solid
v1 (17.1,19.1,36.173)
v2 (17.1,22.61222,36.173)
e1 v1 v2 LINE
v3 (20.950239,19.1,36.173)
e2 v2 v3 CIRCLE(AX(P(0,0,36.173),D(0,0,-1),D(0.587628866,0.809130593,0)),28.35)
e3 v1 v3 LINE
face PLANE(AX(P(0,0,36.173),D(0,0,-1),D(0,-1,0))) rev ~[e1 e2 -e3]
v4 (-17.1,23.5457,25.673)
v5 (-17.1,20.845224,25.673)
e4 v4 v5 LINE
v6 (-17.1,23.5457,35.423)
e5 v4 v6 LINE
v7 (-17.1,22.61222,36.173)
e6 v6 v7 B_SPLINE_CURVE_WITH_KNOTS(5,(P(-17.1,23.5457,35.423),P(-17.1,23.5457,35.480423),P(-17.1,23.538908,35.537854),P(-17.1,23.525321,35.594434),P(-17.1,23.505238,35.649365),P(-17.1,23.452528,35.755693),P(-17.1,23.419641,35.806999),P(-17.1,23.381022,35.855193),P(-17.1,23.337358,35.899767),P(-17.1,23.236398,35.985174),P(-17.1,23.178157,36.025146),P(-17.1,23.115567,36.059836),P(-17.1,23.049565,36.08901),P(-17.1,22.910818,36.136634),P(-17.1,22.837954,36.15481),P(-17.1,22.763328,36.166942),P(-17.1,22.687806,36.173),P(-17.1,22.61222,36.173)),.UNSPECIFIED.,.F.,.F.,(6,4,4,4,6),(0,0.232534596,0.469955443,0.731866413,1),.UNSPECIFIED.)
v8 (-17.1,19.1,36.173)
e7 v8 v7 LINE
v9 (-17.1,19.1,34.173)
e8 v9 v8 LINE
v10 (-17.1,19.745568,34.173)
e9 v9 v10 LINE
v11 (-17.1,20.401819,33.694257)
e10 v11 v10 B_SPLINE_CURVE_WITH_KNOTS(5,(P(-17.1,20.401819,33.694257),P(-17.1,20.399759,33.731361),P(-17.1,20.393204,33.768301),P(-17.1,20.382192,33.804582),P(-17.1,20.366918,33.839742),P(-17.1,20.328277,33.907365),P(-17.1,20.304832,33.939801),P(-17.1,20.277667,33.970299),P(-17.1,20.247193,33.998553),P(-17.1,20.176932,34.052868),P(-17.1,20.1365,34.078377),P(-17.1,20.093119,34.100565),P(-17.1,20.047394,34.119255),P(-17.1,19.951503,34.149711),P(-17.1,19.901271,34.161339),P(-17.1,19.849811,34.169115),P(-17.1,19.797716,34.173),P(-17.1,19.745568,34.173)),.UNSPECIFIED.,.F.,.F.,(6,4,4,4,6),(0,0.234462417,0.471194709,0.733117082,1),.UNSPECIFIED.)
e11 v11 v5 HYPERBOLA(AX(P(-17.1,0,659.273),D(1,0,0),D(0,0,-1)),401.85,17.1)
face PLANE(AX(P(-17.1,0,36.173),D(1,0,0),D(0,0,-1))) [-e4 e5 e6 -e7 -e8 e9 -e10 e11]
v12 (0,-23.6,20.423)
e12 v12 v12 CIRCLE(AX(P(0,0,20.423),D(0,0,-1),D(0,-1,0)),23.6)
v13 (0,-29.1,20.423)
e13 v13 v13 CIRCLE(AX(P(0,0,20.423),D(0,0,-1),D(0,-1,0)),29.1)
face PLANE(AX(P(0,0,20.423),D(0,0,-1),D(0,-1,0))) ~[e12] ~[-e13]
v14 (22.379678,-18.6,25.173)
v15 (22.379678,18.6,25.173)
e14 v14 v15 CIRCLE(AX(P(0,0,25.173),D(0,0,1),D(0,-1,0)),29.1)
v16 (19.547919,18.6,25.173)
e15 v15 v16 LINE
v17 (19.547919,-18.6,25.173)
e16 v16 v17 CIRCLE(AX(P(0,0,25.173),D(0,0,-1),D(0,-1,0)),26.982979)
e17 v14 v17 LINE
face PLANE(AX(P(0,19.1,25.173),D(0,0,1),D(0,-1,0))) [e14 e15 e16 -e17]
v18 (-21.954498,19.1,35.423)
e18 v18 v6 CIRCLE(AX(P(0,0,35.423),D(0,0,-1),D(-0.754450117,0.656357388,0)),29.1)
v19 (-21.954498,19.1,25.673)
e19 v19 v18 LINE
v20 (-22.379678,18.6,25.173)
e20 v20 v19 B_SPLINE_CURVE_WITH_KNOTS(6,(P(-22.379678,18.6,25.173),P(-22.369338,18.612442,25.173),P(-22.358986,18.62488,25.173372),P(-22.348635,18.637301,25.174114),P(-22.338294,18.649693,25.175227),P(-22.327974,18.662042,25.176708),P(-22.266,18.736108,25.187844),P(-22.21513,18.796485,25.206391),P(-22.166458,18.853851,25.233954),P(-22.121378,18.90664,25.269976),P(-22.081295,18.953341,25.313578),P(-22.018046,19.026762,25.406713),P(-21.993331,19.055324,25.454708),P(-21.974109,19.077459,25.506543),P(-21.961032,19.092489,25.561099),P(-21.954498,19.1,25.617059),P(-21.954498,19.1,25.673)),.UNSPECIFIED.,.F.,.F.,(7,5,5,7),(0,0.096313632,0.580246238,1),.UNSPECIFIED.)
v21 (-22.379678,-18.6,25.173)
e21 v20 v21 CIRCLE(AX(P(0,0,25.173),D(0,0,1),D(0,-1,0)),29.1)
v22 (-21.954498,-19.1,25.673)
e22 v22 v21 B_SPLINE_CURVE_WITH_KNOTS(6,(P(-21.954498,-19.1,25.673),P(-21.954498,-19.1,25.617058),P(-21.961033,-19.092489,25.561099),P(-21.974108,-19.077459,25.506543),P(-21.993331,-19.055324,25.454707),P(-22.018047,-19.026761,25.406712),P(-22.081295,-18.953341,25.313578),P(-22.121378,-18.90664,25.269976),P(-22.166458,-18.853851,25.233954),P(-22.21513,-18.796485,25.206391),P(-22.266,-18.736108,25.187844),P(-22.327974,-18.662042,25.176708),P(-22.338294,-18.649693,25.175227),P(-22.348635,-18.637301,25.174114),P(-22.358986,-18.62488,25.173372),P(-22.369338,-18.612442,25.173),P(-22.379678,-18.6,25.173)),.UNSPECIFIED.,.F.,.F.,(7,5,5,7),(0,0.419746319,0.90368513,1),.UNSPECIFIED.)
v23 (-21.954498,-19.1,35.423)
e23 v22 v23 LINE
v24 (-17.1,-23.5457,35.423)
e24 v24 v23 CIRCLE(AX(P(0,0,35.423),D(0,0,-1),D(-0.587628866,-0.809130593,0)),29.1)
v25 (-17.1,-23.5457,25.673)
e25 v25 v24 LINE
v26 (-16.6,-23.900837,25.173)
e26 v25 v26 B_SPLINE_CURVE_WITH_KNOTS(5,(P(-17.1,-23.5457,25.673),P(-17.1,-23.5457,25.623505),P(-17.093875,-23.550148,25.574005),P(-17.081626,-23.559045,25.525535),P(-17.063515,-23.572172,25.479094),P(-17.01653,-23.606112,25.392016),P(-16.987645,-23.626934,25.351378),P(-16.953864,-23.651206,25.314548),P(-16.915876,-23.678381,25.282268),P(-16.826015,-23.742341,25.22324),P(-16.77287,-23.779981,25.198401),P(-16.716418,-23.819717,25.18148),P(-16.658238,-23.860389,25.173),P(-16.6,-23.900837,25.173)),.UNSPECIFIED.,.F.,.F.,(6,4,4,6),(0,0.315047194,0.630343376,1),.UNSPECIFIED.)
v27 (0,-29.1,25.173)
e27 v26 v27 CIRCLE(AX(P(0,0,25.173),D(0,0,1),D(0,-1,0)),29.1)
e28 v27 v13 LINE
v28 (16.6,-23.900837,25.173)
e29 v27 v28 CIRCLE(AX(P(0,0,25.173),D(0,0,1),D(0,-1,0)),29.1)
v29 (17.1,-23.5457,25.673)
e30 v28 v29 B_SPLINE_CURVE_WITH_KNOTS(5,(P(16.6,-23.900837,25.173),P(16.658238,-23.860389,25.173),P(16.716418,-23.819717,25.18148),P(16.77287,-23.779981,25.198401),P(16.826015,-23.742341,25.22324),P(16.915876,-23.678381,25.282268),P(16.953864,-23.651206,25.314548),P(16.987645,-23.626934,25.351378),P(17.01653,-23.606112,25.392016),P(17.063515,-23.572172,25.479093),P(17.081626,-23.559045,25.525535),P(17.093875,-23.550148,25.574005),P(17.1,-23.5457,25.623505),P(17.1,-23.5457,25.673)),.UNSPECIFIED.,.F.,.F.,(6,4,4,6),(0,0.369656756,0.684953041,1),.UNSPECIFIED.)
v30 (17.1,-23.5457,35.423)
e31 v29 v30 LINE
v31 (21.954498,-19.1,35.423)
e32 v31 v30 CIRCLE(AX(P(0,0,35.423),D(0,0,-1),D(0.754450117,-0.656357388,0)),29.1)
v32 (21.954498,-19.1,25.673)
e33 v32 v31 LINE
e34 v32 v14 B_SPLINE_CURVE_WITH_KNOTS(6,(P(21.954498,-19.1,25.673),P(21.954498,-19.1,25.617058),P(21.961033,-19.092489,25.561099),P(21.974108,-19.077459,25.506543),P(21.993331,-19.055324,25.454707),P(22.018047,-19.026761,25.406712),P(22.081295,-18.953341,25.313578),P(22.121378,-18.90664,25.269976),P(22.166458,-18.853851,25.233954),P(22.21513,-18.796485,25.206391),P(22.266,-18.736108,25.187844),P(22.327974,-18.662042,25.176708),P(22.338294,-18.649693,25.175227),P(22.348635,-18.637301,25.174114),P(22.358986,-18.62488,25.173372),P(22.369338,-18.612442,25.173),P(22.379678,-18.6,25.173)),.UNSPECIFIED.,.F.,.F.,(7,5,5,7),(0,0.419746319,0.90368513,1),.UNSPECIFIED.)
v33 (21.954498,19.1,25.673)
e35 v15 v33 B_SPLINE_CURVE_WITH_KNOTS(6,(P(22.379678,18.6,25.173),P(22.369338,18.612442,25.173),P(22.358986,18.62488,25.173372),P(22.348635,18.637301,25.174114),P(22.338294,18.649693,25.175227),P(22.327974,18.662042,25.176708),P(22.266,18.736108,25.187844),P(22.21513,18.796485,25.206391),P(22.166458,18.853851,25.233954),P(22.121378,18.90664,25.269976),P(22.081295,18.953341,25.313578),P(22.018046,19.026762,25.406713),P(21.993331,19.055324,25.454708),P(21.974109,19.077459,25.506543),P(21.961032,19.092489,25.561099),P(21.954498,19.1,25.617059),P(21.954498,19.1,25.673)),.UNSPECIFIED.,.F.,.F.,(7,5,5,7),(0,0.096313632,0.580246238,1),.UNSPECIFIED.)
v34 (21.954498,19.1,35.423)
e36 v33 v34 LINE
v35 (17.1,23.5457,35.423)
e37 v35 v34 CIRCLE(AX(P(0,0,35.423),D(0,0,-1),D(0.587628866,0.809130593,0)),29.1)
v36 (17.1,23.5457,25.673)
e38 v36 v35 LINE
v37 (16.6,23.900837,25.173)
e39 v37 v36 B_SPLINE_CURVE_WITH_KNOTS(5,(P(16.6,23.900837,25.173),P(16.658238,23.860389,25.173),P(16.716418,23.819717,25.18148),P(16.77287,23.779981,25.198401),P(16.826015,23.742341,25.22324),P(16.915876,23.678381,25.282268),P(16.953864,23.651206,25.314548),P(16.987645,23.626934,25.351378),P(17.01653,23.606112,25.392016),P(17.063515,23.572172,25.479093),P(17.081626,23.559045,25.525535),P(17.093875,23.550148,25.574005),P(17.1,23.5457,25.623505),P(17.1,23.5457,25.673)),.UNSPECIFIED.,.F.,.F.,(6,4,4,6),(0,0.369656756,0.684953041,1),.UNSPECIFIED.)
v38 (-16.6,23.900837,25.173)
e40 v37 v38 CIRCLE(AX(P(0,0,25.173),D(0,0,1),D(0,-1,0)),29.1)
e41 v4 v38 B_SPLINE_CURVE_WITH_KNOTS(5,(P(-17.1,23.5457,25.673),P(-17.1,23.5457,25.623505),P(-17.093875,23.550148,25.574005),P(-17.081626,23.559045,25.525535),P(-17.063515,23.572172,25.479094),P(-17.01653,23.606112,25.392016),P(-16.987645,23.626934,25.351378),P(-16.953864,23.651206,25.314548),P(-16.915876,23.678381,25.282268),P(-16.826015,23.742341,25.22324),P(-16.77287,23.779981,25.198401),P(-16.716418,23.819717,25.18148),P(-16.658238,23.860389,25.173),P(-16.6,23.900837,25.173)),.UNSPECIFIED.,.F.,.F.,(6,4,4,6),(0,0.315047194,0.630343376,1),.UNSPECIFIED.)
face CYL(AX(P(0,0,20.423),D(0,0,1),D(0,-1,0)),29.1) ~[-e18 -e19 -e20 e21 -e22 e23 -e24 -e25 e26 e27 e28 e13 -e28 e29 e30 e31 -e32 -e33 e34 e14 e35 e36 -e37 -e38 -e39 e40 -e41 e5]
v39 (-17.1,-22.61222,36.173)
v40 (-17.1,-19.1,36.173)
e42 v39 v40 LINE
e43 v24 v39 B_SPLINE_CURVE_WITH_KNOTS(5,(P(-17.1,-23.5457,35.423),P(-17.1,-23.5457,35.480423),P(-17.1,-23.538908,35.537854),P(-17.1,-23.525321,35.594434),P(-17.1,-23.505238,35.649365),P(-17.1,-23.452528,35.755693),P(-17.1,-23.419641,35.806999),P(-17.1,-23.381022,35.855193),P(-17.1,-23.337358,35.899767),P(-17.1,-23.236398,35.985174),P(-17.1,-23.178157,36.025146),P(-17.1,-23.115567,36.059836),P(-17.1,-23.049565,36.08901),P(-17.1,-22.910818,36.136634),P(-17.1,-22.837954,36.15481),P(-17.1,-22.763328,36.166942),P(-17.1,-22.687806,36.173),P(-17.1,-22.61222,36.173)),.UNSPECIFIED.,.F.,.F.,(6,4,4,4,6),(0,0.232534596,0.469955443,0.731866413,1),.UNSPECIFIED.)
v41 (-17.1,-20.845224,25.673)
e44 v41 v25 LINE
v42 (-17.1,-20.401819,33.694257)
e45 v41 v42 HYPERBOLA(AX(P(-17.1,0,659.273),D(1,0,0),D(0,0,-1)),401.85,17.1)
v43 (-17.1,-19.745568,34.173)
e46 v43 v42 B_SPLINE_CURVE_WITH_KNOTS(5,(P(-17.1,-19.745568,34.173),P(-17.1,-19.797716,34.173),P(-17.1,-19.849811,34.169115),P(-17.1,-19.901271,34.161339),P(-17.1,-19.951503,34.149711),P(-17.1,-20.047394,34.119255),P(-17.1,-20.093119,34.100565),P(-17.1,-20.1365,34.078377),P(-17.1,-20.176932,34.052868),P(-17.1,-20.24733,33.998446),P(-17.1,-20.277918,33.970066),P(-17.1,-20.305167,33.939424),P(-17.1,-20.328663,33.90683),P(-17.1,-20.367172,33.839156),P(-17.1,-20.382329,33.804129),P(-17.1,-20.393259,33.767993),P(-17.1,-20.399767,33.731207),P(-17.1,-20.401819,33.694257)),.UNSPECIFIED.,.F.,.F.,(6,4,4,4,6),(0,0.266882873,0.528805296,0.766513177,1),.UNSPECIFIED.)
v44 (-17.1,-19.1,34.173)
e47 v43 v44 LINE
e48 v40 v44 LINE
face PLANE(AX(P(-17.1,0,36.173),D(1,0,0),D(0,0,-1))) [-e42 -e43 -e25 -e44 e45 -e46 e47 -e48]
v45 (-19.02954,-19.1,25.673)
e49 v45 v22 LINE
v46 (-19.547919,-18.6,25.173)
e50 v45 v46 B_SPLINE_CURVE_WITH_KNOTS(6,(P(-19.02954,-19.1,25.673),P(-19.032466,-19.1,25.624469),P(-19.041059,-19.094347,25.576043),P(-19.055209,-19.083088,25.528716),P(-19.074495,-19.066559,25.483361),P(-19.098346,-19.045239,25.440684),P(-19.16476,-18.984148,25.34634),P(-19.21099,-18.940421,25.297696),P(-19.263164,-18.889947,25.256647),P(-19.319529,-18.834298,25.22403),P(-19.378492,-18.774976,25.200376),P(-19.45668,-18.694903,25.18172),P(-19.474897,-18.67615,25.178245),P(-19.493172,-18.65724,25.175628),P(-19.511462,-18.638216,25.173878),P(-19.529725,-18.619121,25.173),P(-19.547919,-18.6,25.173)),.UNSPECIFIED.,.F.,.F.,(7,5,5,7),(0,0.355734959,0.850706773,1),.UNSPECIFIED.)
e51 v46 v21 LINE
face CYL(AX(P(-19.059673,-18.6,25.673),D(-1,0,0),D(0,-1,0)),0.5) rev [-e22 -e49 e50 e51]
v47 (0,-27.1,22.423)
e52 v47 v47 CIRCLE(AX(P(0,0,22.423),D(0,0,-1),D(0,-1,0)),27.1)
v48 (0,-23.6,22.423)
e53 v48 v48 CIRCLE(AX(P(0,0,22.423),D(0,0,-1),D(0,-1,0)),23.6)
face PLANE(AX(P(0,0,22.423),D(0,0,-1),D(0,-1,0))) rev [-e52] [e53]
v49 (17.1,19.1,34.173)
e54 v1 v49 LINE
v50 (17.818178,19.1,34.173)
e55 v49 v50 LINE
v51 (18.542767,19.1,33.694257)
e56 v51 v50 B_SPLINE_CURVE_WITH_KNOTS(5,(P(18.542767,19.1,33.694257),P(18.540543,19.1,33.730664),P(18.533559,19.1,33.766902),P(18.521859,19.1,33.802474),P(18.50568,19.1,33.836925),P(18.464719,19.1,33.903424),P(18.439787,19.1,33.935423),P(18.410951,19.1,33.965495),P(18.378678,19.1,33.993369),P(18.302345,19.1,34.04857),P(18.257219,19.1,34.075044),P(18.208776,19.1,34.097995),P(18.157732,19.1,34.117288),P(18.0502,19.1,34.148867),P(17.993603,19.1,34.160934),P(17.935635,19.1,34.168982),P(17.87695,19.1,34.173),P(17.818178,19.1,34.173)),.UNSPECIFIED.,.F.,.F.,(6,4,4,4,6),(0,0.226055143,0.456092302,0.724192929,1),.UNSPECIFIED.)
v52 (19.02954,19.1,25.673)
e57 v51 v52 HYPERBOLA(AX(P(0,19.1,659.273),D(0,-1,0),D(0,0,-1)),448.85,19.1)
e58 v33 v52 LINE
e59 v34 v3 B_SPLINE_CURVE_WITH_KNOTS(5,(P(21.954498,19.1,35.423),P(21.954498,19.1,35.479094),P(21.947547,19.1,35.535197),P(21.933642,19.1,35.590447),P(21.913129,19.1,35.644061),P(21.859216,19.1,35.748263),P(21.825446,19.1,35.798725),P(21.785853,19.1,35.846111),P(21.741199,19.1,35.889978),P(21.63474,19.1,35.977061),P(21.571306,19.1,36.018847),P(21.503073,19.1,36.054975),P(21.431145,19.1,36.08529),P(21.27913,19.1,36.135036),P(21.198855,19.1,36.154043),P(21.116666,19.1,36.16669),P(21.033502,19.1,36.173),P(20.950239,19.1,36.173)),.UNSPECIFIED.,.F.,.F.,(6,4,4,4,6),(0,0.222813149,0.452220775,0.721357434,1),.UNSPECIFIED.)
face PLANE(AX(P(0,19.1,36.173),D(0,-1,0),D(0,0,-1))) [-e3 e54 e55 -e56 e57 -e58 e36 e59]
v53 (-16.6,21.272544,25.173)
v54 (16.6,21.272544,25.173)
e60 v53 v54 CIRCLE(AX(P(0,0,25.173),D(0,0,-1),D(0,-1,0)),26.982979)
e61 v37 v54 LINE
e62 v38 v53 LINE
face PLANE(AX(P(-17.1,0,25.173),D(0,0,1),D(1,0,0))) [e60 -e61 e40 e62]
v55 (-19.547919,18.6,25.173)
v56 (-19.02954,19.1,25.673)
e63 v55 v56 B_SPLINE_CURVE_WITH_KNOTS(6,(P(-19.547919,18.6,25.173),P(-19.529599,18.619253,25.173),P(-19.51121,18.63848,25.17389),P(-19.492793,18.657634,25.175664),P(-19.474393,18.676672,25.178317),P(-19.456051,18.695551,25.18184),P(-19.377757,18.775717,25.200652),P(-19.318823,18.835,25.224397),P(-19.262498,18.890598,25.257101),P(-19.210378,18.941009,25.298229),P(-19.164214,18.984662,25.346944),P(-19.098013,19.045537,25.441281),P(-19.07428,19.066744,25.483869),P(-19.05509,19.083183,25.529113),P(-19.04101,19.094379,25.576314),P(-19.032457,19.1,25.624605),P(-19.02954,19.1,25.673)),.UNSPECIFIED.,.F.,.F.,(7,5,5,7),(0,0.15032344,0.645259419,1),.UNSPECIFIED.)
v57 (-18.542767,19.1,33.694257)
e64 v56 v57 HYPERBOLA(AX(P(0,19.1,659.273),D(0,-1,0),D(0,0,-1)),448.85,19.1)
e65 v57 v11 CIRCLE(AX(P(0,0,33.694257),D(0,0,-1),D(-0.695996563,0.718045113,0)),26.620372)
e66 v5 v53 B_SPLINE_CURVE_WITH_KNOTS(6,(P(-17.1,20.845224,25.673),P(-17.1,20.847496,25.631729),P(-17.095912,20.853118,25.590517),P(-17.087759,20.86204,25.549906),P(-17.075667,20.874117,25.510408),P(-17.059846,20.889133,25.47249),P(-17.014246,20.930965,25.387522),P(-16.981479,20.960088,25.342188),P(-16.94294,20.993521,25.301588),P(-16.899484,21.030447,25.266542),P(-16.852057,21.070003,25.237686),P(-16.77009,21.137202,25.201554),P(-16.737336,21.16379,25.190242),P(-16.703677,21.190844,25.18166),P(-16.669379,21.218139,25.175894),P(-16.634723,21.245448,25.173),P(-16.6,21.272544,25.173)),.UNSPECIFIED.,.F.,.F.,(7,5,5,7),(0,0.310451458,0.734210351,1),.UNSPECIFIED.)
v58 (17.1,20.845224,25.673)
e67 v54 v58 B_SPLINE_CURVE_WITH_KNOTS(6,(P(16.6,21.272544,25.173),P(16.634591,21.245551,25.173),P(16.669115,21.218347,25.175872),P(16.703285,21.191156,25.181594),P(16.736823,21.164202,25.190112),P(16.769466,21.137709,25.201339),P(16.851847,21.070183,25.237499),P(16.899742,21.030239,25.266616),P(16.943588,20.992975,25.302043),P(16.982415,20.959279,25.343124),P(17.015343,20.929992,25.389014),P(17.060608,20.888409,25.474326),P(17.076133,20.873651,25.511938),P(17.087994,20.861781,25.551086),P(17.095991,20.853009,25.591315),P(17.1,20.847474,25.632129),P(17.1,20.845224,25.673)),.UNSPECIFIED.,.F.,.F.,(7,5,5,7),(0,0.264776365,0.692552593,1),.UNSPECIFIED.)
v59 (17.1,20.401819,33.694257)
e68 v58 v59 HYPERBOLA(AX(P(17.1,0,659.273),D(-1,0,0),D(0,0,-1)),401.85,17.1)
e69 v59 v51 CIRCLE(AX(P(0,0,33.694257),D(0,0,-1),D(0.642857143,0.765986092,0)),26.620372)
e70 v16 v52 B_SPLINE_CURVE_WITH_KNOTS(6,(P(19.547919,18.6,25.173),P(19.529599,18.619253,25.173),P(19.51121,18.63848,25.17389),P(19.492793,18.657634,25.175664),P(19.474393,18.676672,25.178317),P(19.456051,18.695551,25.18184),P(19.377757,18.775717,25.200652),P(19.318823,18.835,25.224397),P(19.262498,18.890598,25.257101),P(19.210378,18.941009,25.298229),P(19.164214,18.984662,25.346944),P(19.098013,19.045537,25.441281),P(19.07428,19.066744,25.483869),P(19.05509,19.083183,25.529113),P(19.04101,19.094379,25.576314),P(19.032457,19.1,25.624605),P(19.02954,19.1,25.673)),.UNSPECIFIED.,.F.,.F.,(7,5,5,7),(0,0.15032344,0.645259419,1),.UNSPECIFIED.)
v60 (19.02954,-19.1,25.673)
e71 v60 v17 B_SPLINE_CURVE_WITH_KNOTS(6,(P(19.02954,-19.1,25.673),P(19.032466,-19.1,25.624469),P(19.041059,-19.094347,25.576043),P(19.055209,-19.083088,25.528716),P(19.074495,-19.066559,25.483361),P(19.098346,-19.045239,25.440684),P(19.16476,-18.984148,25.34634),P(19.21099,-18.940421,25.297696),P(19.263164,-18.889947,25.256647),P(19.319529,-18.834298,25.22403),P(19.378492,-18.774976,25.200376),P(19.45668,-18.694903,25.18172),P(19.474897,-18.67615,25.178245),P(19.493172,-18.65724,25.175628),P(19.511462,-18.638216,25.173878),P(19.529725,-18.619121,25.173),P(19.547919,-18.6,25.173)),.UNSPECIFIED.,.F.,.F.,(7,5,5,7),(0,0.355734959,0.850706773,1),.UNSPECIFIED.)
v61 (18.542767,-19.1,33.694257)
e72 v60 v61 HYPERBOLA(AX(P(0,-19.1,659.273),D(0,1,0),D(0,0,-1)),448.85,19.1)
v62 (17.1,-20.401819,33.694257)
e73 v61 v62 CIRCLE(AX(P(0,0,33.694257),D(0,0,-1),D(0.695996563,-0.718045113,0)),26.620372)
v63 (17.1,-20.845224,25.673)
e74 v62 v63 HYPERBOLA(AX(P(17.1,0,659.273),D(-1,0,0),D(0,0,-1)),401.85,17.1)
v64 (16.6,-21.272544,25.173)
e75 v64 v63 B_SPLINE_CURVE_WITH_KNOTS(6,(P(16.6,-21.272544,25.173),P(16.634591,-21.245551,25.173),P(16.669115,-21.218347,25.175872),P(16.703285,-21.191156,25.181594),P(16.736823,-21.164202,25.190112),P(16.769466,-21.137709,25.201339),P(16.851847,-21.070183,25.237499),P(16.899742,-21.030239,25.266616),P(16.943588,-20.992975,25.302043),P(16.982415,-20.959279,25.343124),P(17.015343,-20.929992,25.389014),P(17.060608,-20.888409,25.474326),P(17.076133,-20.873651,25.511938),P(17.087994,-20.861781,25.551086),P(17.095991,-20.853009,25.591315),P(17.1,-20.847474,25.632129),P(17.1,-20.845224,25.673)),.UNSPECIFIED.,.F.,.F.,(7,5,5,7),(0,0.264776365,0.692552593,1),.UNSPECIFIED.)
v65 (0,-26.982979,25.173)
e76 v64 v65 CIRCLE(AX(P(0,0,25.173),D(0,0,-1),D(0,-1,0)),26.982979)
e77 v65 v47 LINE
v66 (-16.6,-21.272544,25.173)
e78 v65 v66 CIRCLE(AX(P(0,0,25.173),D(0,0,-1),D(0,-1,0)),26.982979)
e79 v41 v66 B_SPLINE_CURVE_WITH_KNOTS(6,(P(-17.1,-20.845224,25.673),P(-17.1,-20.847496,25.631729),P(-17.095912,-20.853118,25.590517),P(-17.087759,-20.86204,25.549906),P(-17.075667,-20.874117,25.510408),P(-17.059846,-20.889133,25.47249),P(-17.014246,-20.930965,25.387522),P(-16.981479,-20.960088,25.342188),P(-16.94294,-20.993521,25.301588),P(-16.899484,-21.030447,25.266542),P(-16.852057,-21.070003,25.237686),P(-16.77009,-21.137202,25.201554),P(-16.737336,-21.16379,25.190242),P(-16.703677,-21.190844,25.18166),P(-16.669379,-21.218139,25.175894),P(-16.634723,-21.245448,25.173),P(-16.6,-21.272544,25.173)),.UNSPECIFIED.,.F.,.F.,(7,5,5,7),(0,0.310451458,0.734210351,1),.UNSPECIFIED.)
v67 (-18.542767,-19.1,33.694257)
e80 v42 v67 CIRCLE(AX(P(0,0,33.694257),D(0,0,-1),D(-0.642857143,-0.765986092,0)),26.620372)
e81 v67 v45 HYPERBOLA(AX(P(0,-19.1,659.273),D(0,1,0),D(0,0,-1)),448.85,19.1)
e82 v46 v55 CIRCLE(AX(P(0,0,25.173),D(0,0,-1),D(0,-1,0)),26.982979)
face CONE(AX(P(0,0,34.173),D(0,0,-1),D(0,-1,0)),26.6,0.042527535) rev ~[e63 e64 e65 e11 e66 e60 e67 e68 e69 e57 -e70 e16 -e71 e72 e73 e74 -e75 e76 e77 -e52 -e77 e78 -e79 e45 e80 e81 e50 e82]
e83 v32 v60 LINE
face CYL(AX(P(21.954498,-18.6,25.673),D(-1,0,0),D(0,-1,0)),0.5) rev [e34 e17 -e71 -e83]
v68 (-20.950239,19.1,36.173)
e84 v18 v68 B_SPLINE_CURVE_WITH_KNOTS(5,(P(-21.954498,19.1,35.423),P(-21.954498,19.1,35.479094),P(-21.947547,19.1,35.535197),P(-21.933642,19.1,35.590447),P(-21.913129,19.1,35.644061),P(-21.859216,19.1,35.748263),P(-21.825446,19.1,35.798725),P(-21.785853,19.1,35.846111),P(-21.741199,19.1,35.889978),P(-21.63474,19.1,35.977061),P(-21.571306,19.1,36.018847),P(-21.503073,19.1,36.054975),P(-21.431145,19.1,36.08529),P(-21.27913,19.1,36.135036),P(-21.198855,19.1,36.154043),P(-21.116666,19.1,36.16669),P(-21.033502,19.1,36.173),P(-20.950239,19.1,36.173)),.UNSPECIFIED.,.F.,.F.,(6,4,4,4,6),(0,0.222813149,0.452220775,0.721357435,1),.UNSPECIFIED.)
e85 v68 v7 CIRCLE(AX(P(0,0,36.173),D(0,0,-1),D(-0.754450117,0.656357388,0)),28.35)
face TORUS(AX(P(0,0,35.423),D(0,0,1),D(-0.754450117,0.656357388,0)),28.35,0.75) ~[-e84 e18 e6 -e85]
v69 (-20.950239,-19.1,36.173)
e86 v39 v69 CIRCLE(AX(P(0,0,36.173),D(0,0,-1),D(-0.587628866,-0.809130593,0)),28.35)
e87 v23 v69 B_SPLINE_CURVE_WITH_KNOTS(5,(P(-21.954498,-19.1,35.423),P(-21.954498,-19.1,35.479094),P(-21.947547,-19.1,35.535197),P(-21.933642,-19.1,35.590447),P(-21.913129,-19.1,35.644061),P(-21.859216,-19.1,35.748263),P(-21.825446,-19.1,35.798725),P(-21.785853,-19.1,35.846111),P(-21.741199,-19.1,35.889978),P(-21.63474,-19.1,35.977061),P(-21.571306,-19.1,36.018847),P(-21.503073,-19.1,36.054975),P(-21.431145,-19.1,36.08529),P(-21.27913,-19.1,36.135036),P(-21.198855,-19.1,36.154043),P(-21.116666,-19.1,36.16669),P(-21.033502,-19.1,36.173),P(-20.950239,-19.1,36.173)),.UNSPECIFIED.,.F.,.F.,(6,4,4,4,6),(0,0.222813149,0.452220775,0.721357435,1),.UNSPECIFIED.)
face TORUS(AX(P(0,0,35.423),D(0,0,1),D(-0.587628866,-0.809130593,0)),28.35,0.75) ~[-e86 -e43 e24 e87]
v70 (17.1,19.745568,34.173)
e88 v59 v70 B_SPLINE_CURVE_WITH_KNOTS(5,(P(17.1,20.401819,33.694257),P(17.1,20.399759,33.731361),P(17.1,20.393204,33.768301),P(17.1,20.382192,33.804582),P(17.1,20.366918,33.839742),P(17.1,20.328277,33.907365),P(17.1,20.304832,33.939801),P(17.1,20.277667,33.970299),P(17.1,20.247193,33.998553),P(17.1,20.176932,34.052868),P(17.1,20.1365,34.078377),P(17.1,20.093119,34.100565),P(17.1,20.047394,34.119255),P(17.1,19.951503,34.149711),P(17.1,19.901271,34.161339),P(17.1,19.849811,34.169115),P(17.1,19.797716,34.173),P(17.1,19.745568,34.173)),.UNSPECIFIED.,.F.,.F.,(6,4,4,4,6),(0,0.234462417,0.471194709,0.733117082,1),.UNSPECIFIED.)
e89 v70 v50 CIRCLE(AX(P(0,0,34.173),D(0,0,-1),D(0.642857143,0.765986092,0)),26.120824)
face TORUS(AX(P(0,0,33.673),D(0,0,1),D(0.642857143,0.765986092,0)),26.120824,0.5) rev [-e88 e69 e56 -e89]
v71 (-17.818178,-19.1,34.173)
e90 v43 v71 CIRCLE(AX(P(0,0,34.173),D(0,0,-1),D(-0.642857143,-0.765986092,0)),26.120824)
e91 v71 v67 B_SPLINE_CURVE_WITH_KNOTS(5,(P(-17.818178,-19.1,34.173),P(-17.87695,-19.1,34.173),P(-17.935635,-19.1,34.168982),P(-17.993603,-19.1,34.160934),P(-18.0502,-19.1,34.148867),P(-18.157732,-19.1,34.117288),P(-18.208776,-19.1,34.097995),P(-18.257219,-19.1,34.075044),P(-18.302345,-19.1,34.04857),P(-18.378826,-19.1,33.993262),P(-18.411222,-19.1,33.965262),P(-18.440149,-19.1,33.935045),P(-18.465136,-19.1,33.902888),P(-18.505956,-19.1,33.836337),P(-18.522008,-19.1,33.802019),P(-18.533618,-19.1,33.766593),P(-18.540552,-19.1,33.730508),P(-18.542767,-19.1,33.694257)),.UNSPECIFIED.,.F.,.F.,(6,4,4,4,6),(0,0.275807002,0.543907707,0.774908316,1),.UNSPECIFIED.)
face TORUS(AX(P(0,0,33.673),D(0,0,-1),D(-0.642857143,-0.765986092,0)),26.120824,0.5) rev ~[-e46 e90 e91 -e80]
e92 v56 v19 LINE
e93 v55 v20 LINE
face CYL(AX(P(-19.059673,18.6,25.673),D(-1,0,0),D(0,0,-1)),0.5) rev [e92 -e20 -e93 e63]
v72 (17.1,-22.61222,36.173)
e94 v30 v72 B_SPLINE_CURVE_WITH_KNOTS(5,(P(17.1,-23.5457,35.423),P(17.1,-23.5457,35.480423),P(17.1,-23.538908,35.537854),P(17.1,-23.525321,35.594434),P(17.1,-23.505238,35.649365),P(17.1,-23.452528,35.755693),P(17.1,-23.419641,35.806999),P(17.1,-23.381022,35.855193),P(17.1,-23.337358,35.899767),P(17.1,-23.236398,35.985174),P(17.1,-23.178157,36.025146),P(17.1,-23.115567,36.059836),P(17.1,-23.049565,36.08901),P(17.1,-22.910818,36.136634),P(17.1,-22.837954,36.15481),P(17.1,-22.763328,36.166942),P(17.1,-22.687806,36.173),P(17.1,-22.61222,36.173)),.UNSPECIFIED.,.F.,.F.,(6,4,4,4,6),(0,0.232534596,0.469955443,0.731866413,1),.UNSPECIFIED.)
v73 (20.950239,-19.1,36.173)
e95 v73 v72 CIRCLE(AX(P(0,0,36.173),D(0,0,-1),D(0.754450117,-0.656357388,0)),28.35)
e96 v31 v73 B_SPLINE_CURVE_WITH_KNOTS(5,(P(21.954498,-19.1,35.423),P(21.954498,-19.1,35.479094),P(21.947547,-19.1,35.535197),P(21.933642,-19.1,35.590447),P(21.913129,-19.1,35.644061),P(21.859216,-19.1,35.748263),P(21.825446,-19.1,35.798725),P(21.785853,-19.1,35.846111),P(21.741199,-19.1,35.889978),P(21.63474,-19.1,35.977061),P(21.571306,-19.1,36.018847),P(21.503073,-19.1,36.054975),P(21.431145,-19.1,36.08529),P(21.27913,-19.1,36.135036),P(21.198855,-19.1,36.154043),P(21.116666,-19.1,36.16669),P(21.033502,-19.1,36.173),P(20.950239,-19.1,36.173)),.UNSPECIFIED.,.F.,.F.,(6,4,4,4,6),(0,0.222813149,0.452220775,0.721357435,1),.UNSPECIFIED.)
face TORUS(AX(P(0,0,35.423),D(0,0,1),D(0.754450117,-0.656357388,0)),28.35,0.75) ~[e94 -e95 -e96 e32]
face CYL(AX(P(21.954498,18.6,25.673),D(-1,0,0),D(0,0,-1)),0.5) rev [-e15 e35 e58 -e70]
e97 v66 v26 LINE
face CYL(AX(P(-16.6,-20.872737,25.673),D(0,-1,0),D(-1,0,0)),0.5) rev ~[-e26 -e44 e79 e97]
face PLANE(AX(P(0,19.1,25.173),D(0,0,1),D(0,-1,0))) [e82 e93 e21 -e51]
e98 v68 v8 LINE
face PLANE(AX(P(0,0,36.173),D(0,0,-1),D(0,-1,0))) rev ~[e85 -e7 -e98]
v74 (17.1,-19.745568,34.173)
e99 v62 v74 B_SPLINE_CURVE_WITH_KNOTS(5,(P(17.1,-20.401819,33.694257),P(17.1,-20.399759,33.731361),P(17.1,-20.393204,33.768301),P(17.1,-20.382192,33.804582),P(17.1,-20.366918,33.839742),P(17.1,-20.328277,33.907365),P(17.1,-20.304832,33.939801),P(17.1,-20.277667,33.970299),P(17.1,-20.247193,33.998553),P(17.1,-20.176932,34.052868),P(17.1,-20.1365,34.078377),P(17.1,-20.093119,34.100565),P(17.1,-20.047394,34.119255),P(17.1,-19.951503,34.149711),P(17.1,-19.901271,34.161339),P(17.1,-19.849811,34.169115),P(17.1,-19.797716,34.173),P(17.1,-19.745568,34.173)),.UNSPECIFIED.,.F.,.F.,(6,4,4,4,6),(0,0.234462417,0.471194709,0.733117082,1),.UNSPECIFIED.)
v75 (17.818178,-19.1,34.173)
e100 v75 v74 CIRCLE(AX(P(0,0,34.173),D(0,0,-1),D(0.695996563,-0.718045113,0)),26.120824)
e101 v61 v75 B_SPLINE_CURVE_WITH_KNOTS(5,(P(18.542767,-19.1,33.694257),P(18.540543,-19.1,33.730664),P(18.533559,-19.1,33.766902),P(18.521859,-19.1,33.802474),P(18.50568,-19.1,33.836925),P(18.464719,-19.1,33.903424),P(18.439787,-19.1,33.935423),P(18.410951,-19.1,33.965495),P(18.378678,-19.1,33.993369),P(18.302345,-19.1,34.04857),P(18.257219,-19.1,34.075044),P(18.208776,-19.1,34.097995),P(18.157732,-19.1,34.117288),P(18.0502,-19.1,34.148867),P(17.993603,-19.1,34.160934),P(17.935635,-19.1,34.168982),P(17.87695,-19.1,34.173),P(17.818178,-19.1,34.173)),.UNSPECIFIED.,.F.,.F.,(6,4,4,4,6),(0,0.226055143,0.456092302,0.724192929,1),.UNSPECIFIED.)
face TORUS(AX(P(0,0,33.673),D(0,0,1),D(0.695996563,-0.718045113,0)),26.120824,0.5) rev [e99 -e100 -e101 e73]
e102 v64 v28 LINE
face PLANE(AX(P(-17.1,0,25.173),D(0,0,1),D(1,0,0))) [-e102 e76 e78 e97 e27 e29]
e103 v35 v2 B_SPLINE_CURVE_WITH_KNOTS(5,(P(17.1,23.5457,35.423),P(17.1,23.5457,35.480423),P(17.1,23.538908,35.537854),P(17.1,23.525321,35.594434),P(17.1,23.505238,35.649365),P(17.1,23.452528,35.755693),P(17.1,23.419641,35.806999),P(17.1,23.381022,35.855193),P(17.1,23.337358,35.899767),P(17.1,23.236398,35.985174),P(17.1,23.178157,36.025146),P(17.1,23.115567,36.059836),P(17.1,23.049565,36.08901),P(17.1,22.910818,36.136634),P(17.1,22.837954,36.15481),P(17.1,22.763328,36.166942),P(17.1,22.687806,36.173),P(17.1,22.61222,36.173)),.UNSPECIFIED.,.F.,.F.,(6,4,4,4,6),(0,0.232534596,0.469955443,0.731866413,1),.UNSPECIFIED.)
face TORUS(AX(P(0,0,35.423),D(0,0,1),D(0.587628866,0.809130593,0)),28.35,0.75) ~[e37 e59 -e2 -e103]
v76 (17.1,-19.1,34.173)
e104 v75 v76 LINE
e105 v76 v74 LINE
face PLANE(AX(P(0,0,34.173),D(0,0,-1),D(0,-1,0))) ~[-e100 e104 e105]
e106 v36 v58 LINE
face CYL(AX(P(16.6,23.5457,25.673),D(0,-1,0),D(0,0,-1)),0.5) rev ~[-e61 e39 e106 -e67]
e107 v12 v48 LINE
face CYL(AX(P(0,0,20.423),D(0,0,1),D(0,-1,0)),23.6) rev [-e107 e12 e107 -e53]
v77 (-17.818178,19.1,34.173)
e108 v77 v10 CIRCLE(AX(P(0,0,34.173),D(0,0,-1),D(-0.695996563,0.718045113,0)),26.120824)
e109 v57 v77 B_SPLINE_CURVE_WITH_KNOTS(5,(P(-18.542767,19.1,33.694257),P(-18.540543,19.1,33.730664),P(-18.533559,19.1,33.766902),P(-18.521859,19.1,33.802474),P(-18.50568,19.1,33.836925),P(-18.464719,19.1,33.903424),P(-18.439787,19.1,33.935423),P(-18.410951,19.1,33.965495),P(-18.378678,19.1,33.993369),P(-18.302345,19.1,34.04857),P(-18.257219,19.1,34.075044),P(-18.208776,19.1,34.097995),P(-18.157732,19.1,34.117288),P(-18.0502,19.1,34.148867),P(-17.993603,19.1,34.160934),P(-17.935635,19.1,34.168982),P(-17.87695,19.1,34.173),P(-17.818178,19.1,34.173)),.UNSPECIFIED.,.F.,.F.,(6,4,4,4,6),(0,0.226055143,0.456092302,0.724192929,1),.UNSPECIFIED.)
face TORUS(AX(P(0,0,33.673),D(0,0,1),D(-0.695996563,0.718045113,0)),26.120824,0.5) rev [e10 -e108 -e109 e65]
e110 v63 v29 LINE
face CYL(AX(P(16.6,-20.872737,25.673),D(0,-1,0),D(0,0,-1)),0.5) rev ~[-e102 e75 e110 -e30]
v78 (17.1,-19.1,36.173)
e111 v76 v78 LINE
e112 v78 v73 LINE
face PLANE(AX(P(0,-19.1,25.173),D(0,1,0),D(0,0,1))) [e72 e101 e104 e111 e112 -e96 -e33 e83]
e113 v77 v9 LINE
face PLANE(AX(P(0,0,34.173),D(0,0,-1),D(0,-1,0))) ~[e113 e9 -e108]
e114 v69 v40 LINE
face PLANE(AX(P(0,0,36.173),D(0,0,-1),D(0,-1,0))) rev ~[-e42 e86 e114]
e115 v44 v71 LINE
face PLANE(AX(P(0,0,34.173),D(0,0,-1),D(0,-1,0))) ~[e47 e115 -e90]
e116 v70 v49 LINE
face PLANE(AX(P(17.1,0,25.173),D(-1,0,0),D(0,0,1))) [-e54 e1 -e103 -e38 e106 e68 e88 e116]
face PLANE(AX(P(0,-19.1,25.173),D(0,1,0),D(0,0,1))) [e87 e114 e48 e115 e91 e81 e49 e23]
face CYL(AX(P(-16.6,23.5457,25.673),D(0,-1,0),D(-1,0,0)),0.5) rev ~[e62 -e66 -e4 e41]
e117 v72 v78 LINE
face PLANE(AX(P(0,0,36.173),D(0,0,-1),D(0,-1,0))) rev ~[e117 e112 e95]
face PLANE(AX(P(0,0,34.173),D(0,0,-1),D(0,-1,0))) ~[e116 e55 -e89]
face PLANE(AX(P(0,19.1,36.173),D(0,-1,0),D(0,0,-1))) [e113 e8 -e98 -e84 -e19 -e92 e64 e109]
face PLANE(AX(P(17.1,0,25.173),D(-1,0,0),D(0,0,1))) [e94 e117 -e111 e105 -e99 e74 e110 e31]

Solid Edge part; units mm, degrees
sketch "Sketch1" plane through (0, 0, 0) normal (-1, 0, 0) x (0, -1, 0)
  line L0 (23.6, 20.423) -> (29.1, 20.423)
  line L1 (29.1, 20.423) -> (29.1, 22.423)
  line L2 (29.1, 22.423) -> (29.1, 36.173)
  line L3 (29.1, 36.173) -> (24.6, 36.173)
  line L4 (24.6, 36.173) -> (24.6, 34.173)
  line L5 (24.6, 34.173) -> (26.6, 34.173)
  line L6 (26.6, 34.173) -> (27.1, 22.423)
  line L7 (23.6, 22.423) -> (27.1, 22.423)
  line L8 (23.6, 20.423) -> (23.6, 22.423)
  dimension "D1" = 13.75
  dimension "D2" = 2
  dimension "D3" = 5.5
  dimension "D4" = 2
  dimension "D5" = 2
  dimension "D6" = 4.5
  dimension "D7" = 2
  dimension "D8" = 3.5
  dimension "D9" = 23.6
  dimension "D10" = 11.75
revolve "Rotationsausprägung_1" add sketch "Sketch1" angle 360 about axis through (0, 0, 57) along (0, 0, -1)
sketch "Sketch2" plane through (0, 0, 0) normal (-1, 0, 0) x (0, -1, 0)
  line L0 (-19.1, 36.173) -> (-19.1, 25.173)
  line L1 (-19.1, 25.173) -> (19.1, 25.173)
  line L2 (19.1, 25.173) -> (19.1, 36.173)
  line L3 (19.1, 36.173) -> (-19.1, 36.173)
  dimension "D1" = 10
  dimension "D2" = 10
  dimension "D3" = 11
extrude "Cutout1" cut sketch "Sketch2" along normal mid plane 75
sketch "Sketch3" plane through (0, 0, 0) normal (0, -1, 0) x (1, 0, 0)
  line L0 (-17.1, 36.173) -> (-17.1, 25.173)
  line L1 (-17.1, 25.173) -> (17.1, 25.173)
  line L2 (17.1, 25.173) -> (17.1, 36.173)
  line L3 (17.1, 36.173) -> (-17.1, 36.173)
  dimension "D1" = 11
  dimension "D2" = 12
  dimension "D3" = 12
extrude "Extrusionsausschnitt_2" cut sketch "Sketch3" along normal mid plane 75
fillet "Verrundung_0_75_mm" radius 0.75 4 edges at (-19.6534, -21.4606, 36.173) (19.6534, -21.4606, 36.173) (19.6534, 21.4606, 36.173) (-19.6534, 21.4606, 36.173)
fillet "Verrundung_0_5_mm" radius 0.5 12 edges at (-17.8182, 19.7503, 34.173) (-20.5071, 19.1, 25.173) (-17.1, 22.2092, 25.173) (-17.1, -22.2092, 25.173) (-20.5071, -19.1, 25.173) (-17.8182, -19.7503, 34.173) (20.5071, -19.1, 25.173) (17.1, -22.2092, 25.173) (17.8182, -19.7503, 34.173) (17.8182, 19.7503, 34.173) (17.1, 22.2092, 25.173) (20.5071, 19.1, 25.173)
